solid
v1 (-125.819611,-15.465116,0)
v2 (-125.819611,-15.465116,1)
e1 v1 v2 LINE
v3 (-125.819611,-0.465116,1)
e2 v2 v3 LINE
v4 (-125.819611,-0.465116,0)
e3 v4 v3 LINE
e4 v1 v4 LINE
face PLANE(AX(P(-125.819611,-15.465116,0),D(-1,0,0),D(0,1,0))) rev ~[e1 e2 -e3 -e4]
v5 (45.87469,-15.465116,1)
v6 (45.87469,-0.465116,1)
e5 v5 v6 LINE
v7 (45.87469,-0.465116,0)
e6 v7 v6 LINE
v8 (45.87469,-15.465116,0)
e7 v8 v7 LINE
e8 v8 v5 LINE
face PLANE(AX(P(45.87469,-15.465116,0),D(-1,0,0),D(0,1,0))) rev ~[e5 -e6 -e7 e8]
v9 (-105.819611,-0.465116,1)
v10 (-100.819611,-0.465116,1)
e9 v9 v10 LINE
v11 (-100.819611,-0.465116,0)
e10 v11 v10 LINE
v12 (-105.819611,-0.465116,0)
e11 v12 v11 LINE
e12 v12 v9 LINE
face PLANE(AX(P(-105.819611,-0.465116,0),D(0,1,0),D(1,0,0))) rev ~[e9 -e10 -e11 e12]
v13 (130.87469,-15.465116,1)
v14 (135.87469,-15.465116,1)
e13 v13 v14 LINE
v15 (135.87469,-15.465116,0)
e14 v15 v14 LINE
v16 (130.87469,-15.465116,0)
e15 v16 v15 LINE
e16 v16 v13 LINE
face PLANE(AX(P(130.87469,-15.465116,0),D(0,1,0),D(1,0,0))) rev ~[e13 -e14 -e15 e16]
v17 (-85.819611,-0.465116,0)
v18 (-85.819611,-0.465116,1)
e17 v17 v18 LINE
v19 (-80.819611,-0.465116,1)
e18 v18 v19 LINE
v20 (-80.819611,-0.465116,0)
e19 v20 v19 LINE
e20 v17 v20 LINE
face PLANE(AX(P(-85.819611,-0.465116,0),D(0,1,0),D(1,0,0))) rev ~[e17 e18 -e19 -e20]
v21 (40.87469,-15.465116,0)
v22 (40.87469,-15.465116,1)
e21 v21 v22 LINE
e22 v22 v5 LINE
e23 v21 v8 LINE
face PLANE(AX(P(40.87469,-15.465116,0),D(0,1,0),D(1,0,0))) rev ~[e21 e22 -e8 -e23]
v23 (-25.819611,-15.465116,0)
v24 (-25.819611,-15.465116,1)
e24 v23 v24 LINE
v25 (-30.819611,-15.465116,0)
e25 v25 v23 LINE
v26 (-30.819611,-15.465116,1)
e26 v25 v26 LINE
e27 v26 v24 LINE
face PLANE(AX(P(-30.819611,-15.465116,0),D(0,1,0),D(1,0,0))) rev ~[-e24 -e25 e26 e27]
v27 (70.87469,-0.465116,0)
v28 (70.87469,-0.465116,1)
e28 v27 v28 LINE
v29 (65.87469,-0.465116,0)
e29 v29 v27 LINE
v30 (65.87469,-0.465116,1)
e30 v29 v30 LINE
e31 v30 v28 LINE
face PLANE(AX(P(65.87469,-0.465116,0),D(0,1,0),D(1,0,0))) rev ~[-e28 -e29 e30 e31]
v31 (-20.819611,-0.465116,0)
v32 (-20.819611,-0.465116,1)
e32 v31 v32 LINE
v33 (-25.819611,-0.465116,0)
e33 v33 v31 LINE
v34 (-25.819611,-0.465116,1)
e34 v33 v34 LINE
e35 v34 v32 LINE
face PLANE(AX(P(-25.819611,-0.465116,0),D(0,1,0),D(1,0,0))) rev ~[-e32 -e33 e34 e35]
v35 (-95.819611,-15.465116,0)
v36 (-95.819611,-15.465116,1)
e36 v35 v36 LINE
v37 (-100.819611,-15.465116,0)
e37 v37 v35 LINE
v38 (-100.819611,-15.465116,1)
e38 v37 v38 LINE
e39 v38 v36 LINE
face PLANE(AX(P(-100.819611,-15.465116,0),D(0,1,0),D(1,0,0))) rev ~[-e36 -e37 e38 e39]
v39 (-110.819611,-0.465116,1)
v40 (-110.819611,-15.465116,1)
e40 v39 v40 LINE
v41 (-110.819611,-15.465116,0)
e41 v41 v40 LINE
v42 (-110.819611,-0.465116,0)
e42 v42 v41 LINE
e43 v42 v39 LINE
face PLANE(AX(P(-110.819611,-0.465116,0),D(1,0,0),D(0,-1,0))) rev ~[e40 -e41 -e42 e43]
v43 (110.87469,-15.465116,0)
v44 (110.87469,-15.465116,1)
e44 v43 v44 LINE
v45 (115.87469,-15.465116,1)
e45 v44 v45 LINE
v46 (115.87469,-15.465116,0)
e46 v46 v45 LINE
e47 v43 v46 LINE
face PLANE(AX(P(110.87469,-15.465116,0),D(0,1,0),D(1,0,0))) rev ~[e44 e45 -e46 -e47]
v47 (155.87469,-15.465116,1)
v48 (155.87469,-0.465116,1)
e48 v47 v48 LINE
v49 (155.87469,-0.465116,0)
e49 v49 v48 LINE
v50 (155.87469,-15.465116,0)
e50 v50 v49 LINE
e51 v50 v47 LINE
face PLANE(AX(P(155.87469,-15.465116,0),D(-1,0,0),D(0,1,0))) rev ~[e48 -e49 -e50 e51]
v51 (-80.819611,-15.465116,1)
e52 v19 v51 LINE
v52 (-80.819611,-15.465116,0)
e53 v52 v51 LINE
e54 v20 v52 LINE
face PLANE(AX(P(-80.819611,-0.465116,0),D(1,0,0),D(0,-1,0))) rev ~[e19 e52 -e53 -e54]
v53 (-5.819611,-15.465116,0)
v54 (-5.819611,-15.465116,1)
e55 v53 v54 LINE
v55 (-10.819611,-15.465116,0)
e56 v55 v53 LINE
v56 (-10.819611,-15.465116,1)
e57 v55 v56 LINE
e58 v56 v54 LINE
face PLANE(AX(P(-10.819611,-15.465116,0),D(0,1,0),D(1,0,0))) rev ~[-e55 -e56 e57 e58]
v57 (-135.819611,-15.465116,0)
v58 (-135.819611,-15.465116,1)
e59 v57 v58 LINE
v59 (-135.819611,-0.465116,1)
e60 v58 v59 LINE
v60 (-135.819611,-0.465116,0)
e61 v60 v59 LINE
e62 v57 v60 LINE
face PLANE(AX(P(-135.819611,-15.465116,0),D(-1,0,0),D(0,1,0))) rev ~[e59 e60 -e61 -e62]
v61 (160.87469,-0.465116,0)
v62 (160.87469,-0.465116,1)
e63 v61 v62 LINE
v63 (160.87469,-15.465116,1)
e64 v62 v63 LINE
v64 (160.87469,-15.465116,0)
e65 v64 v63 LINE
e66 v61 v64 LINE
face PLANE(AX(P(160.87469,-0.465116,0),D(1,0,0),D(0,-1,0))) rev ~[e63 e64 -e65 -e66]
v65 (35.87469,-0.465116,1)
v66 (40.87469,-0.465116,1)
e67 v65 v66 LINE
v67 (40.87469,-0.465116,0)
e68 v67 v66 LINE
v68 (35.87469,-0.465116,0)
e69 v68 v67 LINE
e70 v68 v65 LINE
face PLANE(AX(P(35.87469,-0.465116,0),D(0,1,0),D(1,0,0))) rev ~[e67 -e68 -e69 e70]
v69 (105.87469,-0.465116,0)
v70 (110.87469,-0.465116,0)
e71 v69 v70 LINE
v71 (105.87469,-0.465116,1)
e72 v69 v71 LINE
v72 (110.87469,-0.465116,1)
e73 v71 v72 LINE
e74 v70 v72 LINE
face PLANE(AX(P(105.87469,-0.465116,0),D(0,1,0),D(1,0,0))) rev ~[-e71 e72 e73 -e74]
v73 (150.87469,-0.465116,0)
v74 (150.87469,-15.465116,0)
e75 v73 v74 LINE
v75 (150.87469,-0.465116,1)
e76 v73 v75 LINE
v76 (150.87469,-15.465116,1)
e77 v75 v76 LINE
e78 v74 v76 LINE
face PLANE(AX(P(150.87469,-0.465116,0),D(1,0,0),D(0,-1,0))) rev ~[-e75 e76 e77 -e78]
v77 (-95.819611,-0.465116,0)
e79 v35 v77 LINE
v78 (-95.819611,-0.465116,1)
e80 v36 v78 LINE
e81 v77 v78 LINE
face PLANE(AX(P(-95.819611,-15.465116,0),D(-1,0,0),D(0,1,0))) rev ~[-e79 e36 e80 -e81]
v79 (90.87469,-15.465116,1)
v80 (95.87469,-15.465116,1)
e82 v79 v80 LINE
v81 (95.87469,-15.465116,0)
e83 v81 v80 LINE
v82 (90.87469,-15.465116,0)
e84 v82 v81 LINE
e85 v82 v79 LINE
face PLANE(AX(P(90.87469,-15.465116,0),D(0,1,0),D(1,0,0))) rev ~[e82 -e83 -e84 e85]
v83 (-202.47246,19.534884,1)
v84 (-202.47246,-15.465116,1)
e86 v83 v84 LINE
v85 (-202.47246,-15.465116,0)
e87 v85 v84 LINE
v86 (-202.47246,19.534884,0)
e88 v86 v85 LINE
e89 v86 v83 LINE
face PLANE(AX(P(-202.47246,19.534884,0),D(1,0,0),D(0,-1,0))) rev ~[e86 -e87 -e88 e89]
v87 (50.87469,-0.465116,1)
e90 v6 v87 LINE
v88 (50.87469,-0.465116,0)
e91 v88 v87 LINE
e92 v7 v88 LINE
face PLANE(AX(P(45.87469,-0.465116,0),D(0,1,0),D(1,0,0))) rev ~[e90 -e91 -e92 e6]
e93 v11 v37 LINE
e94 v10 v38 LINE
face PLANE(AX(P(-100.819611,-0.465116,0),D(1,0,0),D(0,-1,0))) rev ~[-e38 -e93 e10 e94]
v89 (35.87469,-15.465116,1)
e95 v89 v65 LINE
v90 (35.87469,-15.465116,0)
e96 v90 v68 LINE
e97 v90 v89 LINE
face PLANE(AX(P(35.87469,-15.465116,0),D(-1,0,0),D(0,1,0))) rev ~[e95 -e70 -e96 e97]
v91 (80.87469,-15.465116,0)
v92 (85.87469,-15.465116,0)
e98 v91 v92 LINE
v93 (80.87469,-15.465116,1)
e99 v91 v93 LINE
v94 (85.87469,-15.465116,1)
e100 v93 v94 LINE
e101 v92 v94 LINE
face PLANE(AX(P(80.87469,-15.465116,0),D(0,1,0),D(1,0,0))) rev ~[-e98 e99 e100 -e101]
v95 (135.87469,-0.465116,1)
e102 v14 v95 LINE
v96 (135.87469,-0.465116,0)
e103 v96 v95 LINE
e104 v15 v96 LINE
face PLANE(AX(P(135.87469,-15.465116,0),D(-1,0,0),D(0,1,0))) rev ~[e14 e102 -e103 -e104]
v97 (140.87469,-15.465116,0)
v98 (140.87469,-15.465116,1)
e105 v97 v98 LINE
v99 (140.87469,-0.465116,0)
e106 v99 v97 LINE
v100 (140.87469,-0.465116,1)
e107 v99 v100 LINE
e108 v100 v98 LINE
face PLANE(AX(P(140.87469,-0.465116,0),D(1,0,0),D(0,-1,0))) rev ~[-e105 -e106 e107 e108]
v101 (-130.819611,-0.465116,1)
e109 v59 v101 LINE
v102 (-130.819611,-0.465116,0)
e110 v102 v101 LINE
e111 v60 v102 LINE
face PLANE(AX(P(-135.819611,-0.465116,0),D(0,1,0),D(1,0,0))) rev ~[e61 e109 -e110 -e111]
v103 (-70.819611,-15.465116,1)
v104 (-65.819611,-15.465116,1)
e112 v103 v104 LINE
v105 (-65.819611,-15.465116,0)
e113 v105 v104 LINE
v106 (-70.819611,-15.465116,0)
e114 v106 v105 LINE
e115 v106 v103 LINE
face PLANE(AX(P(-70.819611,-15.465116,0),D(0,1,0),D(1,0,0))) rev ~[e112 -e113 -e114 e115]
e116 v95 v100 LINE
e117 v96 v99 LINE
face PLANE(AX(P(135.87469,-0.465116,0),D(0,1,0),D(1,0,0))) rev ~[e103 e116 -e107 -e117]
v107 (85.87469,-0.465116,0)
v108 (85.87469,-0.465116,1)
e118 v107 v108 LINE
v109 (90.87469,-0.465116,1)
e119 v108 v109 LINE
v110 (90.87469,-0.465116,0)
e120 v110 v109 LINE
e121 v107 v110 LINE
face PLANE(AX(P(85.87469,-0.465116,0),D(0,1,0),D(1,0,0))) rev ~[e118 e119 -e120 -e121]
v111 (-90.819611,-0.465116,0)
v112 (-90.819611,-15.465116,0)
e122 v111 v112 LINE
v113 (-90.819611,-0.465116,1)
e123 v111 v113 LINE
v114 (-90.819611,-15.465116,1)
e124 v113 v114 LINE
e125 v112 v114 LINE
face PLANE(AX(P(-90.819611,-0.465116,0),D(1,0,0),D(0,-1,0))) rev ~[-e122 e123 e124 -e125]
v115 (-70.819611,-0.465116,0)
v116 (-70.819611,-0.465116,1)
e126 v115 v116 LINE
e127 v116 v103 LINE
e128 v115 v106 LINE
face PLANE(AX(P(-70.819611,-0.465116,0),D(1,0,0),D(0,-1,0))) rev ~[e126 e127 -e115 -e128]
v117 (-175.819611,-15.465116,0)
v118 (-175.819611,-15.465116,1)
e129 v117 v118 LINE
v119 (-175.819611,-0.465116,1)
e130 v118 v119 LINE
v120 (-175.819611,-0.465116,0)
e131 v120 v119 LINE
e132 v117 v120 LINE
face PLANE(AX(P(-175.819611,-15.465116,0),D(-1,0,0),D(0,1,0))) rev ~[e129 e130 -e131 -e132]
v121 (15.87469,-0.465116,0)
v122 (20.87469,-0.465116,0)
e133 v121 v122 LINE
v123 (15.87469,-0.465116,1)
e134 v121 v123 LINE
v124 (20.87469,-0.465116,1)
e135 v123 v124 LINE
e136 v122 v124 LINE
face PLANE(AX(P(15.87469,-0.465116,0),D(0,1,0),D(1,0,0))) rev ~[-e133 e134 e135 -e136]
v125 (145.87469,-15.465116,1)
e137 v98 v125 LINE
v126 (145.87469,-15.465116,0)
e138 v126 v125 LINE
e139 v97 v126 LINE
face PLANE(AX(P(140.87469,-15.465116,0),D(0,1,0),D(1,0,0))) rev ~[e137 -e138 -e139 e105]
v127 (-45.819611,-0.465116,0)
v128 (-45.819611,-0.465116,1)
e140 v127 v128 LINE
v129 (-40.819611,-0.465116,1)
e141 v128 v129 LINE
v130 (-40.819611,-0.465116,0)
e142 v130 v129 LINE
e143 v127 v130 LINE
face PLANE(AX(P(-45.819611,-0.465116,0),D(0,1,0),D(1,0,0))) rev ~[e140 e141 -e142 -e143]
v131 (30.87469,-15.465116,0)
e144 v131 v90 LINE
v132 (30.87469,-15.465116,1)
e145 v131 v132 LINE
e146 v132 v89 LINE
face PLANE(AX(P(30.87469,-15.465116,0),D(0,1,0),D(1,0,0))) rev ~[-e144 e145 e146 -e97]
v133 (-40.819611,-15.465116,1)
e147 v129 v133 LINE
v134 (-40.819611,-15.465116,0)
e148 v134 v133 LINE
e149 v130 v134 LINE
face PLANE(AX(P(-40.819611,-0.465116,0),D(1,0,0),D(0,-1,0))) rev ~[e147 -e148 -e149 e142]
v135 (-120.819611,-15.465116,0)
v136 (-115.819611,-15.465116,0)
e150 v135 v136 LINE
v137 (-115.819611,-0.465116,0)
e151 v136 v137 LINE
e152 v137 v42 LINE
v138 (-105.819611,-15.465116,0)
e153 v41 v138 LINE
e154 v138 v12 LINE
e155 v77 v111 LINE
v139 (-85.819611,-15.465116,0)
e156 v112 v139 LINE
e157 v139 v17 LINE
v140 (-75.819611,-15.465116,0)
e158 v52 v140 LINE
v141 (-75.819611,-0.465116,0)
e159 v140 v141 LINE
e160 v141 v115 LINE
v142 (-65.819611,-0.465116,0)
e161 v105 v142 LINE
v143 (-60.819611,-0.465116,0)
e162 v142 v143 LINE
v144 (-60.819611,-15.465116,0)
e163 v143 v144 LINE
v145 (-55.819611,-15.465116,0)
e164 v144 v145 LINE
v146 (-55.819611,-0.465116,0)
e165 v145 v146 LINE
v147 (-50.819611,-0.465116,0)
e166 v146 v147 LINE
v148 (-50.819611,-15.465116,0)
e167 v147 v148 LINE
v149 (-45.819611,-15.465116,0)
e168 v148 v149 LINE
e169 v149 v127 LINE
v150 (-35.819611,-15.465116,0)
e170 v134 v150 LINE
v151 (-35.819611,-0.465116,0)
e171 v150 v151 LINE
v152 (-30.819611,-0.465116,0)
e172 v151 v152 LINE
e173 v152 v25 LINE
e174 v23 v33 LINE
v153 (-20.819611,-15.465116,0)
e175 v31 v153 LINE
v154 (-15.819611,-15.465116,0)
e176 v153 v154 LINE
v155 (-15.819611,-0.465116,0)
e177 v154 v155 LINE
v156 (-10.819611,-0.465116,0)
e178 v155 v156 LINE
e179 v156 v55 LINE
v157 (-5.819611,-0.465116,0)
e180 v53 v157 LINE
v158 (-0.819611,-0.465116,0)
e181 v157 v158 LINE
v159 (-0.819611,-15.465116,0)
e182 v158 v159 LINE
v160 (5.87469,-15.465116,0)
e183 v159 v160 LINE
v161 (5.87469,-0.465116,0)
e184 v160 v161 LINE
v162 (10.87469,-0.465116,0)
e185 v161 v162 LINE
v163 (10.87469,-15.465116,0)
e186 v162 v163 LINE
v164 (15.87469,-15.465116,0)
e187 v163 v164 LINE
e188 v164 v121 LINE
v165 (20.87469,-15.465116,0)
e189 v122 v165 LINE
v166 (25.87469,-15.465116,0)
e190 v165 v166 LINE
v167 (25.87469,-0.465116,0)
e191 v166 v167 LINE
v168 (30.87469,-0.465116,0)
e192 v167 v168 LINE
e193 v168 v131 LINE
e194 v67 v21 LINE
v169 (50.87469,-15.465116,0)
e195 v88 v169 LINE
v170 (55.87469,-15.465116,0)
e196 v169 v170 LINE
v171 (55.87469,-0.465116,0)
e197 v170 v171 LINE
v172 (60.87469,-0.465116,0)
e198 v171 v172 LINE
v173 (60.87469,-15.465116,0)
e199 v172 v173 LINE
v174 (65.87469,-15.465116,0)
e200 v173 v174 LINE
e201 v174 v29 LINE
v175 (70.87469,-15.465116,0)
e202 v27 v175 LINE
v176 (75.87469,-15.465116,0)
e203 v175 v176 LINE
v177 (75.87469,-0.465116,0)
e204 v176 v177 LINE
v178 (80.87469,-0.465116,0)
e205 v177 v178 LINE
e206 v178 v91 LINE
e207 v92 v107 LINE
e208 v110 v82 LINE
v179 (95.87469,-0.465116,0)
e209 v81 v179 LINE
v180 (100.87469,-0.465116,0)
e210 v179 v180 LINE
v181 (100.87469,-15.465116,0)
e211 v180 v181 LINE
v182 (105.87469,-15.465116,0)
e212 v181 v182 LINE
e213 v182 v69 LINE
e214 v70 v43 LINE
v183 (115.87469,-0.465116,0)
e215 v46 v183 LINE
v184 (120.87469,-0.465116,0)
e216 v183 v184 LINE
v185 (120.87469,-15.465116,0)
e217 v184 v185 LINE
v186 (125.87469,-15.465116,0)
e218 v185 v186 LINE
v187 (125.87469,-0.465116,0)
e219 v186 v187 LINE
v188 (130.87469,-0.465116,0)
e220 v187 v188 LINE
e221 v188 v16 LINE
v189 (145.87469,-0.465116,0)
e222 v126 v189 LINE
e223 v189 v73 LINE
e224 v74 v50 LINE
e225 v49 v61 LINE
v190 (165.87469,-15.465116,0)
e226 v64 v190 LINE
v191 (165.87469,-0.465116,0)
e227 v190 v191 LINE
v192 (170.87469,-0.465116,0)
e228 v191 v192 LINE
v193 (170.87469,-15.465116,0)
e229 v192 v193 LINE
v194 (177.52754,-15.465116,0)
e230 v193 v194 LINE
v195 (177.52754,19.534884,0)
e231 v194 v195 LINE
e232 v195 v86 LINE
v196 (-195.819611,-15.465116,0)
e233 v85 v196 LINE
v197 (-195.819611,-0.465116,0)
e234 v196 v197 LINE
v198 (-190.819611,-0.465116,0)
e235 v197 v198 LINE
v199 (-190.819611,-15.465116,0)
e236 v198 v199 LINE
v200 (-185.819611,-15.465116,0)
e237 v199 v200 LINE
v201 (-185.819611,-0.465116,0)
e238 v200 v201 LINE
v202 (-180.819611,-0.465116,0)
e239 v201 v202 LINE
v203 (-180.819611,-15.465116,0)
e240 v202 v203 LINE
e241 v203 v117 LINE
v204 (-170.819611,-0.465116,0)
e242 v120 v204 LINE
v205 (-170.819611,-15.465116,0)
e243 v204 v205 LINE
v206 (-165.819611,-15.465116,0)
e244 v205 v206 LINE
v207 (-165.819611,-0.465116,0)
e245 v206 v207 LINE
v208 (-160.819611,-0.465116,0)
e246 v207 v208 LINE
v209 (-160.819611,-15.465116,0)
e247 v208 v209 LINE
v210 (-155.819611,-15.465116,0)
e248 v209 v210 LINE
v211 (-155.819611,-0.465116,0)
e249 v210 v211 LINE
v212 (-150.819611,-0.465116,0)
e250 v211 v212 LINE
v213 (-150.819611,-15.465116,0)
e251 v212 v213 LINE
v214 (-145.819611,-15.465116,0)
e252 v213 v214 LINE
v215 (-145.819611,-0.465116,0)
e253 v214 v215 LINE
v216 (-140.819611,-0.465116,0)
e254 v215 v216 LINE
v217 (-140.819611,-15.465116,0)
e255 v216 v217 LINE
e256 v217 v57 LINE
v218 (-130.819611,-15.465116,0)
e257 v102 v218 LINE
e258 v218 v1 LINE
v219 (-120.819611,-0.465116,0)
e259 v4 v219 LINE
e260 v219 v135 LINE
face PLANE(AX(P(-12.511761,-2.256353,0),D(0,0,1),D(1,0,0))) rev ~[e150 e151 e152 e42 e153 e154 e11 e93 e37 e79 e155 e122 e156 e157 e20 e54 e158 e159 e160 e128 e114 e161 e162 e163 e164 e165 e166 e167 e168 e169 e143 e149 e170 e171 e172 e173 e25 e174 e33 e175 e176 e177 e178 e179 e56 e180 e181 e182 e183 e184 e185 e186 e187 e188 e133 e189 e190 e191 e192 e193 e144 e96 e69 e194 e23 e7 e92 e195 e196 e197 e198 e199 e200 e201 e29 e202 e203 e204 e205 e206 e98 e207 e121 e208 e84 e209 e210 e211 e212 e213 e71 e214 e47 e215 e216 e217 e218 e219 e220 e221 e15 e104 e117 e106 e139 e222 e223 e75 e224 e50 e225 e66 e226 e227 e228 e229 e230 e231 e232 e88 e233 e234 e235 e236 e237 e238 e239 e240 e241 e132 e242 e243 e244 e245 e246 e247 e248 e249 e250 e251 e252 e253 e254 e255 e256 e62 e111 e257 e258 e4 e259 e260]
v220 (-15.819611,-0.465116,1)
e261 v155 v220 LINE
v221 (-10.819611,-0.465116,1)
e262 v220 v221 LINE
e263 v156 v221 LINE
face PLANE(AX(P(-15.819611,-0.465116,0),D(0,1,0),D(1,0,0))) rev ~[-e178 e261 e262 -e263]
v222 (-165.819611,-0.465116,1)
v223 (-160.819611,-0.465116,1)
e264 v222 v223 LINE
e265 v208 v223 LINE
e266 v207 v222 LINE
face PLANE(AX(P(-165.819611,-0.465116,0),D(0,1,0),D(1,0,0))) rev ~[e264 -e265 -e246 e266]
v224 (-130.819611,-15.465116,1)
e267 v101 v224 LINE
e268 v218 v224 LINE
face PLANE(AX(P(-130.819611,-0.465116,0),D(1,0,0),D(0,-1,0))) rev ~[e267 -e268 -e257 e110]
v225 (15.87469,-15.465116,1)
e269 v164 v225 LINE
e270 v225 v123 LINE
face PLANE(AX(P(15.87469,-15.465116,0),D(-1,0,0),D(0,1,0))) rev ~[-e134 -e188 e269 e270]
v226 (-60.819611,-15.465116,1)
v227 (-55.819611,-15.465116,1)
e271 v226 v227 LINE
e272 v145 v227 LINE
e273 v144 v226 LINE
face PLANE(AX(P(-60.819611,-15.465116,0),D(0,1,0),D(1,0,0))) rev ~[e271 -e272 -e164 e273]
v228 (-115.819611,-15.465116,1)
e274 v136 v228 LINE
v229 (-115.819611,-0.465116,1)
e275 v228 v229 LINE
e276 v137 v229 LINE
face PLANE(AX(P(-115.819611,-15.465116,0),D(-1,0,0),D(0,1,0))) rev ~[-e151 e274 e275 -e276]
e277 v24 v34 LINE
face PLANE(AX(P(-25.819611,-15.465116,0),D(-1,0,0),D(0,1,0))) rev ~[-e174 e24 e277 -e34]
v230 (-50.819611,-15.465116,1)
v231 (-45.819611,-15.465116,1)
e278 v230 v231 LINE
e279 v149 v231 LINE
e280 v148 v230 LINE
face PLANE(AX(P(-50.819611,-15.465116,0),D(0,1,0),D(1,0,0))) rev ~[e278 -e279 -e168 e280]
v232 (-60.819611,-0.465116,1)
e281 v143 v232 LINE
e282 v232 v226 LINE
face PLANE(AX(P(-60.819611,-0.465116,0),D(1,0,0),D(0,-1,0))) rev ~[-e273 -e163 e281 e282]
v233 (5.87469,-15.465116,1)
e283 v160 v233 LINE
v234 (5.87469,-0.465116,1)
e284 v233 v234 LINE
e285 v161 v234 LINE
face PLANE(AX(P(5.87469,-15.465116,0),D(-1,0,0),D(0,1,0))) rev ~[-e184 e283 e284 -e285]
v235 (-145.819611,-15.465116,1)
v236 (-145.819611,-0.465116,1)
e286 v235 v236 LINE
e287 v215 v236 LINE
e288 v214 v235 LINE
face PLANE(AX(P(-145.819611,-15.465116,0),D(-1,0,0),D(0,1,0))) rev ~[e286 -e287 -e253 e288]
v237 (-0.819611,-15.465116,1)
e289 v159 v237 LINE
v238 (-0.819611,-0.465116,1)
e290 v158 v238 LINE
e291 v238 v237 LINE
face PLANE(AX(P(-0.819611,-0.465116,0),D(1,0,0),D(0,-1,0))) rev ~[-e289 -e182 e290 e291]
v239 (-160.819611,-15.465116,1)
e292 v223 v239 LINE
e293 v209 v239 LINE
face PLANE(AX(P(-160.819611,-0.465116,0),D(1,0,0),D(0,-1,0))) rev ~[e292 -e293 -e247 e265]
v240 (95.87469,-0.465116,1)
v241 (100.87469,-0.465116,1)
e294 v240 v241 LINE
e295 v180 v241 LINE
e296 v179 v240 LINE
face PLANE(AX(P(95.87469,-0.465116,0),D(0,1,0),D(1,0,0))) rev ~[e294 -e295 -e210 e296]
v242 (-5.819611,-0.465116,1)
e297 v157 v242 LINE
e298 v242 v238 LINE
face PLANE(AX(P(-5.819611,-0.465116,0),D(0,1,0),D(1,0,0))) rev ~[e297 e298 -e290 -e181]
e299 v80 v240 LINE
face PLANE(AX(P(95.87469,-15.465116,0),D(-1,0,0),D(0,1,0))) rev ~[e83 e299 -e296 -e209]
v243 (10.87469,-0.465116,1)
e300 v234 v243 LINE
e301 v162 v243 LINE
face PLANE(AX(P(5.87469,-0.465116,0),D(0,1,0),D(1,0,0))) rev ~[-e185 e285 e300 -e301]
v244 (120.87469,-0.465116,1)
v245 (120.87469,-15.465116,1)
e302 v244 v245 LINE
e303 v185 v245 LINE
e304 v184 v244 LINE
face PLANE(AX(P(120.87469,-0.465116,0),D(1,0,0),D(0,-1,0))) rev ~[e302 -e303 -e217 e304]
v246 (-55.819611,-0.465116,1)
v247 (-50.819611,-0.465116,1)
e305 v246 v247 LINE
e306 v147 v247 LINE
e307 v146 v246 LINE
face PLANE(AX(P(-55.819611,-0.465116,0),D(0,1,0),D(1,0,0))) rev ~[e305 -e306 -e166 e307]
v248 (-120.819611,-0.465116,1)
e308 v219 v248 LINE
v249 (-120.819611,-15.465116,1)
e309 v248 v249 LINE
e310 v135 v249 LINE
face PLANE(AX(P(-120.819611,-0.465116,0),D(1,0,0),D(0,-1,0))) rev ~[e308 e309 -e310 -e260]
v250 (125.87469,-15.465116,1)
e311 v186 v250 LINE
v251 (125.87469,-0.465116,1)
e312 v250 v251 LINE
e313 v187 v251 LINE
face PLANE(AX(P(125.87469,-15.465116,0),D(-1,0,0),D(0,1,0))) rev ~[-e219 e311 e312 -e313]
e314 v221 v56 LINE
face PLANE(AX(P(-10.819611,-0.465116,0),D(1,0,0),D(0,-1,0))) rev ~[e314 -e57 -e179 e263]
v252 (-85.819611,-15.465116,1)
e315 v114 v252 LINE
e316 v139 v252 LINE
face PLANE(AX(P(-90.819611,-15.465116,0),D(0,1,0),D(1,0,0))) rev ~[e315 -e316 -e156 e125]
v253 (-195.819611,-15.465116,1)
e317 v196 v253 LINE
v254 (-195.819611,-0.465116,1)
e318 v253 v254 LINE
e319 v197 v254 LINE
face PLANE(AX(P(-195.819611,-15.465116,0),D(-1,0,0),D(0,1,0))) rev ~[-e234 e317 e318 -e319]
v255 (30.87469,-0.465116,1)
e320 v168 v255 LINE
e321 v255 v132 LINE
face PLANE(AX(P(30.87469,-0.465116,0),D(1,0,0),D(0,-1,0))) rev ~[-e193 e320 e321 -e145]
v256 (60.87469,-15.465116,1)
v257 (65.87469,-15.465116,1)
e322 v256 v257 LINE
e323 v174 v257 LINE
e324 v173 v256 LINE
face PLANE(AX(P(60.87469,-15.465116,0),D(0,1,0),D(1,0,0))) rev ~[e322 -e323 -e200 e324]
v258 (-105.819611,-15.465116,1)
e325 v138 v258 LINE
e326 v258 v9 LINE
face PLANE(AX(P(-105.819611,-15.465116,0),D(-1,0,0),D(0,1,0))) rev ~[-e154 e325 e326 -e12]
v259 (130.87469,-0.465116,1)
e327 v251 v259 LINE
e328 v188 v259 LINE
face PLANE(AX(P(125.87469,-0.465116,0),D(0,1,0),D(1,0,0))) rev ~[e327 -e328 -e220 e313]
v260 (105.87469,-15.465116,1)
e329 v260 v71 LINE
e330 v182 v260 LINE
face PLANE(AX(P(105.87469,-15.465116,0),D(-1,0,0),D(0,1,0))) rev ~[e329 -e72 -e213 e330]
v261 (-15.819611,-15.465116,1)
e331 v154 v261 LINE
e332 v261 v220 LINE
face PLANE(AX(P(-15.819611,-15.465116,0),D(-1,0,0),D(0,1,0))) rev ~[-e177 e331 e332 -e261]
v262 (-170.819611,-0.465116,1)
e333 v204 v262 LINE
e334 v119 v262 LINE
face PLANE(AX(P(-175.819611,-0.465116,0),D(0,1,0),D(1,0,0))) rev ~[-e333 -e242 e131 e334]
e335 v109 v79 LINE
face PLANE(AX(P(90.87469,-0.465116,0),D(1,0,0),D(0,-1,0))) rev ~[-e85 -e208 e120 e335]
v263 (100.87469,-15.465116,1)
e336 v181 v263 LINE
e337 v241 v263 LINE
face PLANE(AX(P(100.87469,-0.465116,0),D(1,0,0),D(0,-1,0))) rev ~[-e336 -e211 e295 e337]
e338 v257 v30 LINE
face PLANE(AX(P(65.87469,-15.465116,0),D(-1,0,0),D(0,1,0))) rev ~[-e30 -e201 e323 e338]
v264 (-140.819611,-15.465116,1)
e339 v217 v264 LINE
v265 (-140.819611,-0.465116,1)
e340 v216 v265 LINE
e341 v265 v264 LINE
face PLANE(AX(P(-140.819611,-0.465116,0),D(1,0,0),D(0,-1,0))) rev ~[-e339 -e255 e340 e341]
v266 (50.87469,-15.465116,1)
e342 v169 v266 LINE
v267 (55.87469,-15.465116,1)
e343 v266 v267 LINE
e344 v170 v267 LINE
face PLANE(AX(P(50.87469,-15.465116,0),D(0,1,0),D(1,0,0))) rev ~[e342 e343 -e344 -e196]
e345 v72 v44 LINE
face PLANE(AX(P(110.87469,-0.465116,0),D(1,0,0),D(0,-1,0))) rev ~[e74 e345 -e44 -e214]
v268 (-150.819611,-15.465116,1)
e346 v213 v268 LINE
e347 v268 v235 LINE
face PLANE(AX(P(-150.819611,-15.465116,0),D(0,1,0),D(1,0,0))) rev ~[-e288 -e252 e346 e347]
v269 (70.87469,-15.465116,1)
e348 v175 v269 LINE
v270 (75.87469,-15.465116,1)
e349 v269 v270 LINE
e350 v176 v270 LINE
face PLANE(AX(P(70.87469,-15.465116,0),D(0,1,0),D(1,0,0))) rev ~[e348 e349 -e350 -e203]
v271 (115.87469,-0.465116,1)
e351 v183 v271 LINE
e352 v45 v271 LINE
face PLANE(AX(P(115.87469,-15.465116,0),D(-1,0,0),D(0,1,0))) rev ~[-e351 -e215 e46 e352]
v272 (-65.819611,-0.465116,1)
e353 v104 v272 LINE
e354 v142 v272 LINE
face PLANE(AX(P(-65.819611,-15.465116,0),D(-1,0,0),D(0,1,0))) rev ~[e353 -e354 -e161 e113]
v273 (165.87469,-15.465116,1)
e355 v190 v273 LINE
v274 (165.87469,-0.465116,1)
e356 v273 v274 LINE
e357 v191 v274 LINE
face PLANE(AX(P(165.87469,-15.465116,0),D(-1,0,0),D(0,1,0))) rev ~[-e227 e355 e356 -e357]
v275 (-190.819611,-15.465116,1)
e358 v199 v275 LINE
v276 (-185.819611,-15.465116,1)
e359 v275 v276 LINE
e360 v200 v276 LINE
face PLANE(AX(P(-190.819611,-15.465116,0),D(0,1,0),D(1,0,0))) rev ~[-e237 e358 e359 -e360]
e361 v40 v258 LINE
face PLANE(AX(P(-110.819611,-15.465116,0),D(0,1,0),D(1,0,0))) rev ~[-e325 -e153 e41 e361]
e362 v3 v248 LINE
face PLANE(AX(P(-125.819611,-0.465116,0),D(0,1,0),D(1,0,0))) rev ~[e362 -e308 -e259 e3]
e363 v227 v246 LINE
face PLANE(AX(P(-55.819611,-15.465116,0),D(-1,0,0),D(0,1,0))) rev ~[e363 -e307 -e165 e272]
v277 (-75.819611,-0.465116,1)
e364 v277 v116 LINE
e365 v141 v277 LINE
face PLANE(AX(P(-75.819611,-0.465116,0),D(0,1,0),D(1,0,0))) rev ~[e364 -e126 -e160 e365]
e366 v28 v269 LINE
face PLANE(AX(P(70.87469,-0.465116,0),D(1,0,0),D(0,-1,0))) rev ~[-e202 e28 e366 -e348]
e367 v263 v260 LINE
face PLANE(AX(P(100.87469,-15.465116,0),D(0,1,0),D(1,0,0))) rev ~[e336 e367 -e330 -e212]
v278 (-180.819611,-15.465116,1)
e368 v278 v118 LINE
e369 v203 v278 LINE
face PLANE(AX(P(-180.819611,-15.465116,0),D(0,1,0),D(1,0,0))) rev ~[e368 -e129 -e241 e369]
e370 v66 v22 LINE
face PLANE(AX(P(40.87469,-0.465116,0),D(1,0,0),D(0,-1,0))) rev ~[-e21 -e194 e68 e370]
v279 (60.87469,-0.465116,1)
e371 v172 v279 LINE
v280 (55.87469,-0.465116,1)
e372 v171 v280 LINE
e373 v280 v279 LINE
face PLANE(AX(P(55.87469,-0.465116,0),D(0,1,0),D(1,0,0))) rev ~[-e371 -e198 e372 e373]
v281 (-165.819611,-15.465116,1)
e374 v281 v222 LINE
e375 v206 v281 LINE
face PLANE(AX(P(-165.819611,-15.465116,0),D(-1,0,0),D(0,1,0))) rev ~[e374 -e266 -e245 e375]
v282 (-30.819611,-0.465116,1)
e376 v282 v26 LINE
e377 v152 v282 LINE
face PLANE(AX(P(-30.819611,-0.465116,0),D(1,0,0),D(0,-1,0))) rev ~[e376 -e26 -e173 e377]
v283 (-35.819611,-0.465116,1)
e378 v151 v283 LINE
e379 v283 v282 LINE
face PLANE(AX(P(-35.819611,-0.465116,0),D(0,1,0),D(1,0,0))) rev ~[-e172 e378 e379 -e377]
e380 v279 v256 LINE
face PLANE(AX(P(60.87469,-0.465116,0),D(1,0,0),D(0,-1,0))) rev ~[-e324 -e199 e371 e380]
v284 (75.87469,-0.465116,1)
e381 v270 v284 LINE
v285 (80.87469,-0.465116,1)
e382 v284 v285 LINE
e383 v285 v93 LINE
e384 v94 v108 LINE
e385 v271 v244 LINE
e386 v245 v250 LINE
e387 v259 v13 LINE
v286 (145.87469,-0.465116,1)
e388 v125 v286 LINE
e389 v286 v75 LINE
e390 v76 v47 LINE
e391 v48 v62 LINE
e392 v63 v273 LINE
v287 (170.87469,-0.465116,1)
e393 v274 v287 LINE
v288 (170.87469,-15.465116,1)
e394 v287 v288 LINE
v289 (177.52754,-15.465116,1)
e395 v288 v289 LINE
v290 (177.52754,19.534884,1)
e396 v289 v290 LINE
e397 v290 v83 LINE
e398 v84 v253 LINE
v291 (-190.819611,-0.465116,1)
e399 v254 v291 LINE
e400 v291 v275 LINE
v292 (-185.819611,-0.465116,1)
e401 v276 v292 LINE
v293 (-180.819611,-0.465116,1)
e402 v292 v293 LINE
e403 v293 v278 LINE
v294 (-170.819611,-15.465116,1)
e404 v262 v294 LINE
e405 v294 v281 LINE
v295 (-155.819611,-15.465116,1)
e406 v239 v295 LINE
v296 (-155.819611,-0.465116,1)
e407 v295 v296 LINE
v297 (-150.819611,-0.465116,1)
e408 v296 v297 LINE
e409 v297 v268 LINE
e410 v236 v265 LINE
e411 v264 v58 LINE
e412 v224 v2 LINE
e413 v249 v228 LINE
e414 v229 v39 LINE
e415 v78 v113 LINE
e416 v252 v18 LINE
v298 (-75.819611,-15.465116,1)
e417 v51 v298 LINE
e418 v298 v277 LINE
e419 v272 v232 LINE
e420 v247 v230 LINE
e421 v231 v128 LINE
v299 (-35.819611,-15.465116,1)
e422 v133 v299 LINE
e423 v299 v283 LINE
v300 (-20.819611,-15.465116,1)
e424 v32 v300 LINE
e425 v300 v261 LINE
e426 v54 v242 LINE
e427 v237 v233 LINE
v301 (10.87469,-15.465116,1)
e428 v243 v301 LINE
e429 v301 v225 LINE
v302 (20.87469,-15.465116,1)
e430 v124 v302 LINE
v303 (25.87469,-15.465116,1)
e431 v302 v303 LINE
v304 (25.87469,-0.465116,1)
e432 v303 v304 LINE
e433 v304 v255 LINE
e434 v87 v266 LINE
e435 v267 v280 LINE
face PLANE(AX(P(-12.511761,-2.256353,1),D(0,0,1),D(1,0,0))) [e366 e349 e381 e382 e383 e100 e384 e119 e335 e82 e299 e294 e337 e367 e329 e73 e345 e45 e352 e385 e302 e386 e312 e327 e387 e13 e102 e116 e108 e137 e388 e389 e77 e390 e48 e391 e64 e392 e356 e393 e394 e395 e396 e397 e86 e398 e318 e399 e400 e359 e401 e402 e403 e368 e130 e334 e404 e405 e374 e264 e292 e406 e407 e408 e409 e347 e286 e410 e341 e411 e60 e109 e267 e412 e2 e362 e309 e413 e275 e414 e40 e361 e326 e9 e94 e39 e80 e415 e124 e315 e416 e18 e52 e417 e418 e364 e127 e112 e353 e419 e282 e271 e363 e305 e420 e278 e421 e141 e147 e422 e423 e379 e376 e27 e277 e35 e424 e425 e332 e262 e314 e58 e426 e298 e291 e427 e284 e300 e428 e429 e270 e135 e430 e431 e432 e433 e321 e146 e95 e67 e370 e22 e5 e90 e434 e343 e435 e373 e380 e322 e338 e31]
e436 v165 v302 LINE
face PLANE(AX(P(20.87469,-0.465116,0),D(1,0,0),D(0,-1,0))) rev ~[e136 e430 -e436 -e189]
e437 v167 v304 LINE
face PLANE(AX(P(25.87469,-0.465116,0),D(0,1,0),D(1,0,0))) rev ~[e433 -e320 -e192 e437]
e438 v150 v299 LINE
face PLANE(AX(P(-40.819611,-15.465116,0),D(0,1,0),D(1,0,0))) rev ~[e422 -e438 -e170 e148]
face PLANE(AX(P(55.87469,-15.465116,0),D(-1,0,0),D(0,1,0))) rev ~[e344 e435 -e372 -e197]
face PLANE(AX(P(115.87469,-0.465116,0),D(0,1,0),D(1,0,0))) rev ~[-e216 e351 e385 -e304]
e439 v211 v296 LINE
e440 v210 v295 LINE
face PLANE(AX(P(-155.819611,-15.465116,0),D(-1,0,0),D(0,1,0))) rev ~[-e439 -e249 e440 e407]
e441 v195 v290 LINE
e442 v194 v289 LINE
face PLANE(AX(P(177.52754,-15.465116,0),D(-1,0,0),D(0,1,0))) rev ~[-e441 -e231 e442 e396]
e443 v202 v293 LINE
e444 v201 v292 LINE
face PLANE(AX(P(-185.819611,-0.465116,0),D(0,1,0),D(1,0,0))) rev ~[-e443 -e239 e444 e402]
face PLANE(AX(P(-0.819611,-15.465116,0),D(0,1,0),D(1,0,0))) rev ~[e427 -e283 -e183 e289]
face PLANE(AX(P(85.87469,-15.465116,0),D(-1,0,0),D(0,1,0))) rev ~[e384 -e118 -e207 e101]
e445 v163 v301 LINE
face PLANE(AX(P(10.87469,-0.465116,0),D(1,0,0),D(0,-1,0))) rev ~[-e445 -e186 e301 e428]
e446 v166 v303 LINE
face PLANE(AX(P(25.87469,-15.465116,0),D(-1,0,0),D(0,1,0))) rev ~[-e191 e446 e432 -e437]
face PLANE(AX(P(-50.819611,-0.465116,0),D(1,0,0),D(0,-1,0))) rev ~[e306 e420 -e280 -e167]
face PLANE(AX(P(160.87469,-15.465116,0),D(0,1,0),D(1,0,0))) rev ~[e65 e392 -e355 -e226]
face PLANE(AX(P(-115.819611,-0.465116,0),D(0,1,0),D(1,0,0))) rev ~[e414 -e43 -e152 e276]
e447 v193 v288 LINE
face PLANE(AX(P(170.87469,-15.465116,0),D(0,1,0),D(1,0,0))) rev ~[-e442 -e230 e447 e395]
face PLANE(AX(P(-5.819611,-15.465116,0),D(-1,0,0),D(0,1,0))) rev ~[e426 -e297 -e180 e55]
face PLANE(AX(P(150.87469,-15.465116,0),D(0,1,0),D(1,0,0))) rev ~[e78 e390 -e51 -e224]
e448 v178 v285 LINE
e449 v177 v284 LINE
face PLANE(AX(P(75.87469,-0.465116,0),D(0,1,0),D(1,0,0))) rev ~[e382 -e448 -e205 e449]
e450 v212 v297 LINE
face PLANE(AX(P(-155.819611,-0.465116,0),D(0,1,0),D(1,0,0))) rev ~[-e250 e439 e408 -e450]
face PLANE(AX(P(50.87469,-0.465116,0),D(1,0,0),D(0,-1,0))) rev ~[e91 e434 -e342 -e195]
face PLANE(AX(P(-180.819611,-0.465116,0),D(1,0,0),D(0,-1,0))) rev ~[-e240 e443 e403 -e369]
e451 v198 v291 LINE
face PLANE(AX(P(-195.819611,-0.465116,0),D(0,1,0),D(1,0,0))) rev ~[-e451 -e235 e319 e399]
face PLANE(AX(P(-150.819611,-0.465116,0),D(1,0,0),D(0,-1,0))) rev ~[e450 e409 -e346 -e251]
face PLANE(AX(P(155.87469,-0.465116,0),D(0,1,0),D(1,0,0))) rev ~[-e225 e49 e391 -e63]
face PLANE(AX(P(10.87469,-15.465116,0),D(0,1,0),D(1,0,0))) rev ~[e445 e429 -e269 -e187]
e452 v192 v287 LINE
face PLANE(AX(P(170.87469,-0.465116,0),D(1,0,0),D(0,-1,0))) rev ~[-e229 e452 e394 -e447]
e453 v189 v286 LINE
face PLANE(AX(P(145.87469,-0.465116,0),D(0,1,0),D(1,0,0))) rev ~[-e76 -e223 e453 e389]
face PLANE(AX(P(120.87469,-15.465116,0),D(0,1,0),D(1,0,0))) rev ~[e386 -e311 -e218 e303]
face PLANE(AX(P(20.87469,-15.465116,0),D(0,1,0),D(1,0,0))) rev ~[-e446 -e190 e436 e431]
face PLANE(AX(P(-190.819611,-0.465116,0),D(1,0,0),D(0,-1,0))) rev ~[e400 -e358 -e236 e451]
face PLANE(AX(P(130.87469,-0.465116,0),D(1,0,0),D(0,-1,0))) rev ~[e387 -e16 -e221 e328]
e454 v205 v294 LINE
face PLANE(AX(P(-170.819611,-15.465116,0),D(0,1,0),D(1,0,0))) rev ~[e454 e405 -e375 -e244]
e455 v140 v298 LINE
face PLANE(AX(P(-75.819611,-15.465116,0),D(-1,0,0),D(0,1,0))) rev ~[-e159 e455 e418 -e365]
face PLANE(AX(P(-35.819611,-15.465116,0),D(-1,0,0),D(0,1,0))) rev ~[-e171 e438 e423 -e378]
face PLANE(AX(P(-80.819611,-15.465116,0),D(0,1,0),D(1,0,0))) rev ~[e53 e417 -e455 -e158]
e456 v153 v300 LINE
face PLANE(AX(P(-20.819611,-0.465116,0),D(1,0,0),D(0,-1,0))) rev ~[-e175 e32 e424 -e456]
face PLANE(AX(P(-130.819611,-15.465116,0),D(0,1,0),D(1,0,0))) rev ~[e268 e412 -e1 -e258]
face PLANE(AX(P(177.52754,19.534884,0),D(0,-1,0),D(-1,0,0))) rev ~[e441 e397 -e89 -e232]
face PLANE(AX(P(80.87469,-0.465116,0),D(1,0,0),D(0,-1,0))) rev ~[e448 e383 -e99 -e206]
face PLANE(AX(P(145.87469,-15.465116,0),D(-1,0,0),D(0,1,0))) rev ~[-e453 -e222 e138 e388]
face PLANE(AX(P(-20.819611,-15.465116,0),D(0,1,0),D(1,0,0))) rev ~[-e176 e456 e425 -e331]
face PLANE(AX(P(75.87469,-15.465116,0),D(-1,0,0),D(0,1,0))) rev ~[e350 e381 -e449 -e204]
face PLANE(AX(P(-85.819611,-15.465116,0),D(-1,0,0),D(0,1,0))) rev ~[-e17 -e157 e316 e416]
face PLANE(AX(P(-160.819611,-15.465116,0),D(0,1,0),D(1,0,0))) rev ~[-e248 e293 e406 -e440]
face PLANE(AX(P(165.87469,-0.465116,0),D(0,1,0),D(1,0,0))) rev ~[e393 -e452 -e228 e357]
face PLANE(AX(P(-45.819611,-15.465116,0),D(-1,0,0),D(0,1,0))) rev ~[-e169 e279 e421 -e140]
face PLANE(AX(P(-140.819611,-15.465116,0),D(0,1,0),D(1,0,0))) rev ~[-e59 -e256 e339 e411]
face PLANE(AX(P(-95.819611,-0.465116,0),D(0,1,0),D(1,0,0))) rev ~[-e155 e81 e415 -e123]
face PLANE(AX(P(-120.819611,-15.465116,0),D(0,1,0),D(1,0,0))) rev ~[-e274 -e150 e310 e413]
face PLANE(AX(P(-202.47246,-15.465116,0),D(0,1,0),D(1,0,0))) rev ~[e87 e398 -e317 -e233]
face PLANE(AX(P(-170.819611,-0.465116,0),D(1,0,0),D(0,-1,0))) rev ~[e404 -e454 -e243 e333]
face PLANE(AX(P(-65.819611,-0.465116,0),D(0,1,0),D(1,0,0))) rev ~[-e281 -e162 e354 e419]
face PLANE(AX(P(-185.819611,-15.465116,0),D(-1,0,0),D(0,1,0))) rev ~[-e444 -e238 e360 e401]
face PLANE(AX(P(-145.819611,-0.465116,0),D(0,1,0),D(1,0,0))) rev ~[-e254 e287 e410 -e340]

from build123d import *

# Parameters (mm, degrees)
BOSS_EXTRUDE1_DEPTH = 1


with BuildPart() as part:
    # Sketch1 → Boss-Extrude1 (new body)
    with BuildSketch(Plane.XY):
        Polygon((-180.819610652, -0.465116279), (-180.819610652, -15.465116279), (-175.819610652, -15.465116279), (-175.819610652, -0.465116279), (-170.819610652, -0.465116279), (-170.819610652, -15.465116279), (-165.819610652, -15.465116279), (-165.819610652, -0.465116279), (-160.819610652, -0.465116279), (-160.819610652, -15.465116279), (-155.819610652, -15.465116279), (-155.819610652, -0.465116279), (-150.819610652, -0.465116279), (-150.819610652, -15.465116279), (-145.819610652, -15.465116279), (-145.819610652, -0.465116279), (-140.819610652, -0.465116279), (-140.819610652, -15.465116279), (-135.819610652, -15.465116279), (-135.819610652, -0.465116279), (-130.819610652, -0.465116279), (-130.819610652, -15.465116279), (-125.819610652, -15.465116279), (-125.819610652, -0.465116279), (-120.819610652, -0.465116279), (-120.819610652, -15.465116279), (-115.819610652, -15.465116279), (-115.819610652, -0.465116279), (-110.819610652, -0.465116279), (-110.819610652, -15.465116279), (-105.819610652, -15.465116279), (-105.819610652, -0.465116279), (-100.819610652, -0.465116279), (-100.819610652, -15.465116279), (-95.819610652, -15.465116279), (-95.819610652, -0.465116279), (-90.819610652, -0.465116279), (-90.819610652, -15.465116279), (-85.819610652, -15.465116279), (-85.819610652, -0.465116279), (-80.819610652, -0.465116279), (-80.819610652, -15.465116279), (-75.819610652, -15.465116279), (-75.819610652, -0.465116279), (-70.819610652, -0.465116279), (-70.819610652, -15.465116279), (-65.819610652, -15.465116279), (-65.819610652, -0.465116279), (-60.819610652, -0.465116279), (-60.819610652, -15.465116279), (-55.819610652, -15.465116279), (-55.819610652, -0.465116279), (-50.819610652, -0.465116279), (-50.819610652, -15.465116279), (-45.819610652, -15.465116279), (-45.819610652, -0.465116279), (-40.819610652, -0.465116279), (-40.819610652, -15.465116279), (-35.819610652, -15.465116279), (-35.819610652, -0.465116279), (-30.819610652, -0.465116279), (-30.819610652, -15.465116279), (-25.819610652, -15.465116279), (-25.819610652, -0.465116279), (-20.819610652, -0.465116279), (-20.819610652, -15.465116279), (-15.819610652, -15.465116279), (-15.819610652, -0.465116279), (-10.819610652, -0.465116279), (-10.819610652, -15.465116279), (-5.819610652, -15.465116279), (-5.819610652, -0.465116279), (-0.819610652, -0.465116279), (-0.819610652, -15.465116279), (5.874690211, -15.465116279), (5.874690211, -0.465116279), (10.874690211, -0.465116279), (10.874690211, -15.465116279), (15.874690211, -15.465116279), (15.874690211, -0.465116279), (20.874690211, -0.465116279), (20.874690211, -15.465116279), (25.874690211, -15.465116279), (25.874690211, -0.465116279), (30.874690211, -0.465116279), (30.874690211, -15.465116279), (35.874690211, -15.465116279), (35.874690211, -0.465116279), (40.874690211, -0.465116279), (40.874690211, -15.465116279), (45.874690211, -15.465116279), (45.874690211, -0.465116279), (50.874690211, -0.465116279), (50.874690211, -15.465116279), (55.874690211, -15.465116279), (55.874690211, -0.465116279), (60.874690211, -0.465116279), (60.874690211, -15.465116279), (65.874690211, -15.465116279), (65.874690211, -0.465116279), (70.874690211, -0.465116279), (70.874690211, -15.465116279), (75.874690211, -15.465116279), (75.874690211, -0.465116279), (80.874690211, -0.465116279), (80.874690211, -15.465116279), (85.874690211, -15.465116279), (85.874690211, -0.465116279), (90.874690211, -0.465116279), (90.874690211, -15.465116279), (95.874690211, -15.465116279), (95.874690211, -0.465116279), (100.874690211, -0.465116279), (100.874690211, -15.465116279), (105.874690211, -15.465116279), (105.874690211, -0.465116279), (110.874690211, -0.465116279), (110.874690211, -15.465116279), (115.874690211, -15.465116279), (115.874690211, -0.465116279), (120.874690211, -0.465116279), (120.874690211, -15.465116279), (125.874690211, -15.465116279), (125.874690211, -0.465116279), (130.874690211, -0.465116279), (130.874690211, -15.465116279), (135.874690211, -15.465116279), (135.874690211, -0.465116279), (140.874690211, -0.465116279), (140.874690211, -15.465116279), (145.874690211, -15.465116279), (145.874690211, -0.465116279), (150.874690211, -0.465116279), (150.874690211, -15.465116279), (155.874690211, -15.465116279), (155.874690211, -0.465116279), (160.874690211, -0.465116279), (160.874690211, -15.465116279), (165.874690211, -15.465116279), (165.874690211, -0.465116279), (170.874690211, -0.465116279), (170.874690211, -15.465116279), (177.52753978, -15.465116279), (177.52753978, 19.534883721), (-202.47246022, 19.534883721), (-202.47246022, -15.465116279), (-195.819610652, -15.465116279), (-195.819610652, -0.465116279), (-190.819610652, -0.465116279), (-190.819610652, -15.465116279), (-185.819610652, -15.465116279), (-185.819610652, -0.465116279), align=None)
    extrude(amount=BOSS_EXTRUDE1_DEPTH)


solid = part.part
